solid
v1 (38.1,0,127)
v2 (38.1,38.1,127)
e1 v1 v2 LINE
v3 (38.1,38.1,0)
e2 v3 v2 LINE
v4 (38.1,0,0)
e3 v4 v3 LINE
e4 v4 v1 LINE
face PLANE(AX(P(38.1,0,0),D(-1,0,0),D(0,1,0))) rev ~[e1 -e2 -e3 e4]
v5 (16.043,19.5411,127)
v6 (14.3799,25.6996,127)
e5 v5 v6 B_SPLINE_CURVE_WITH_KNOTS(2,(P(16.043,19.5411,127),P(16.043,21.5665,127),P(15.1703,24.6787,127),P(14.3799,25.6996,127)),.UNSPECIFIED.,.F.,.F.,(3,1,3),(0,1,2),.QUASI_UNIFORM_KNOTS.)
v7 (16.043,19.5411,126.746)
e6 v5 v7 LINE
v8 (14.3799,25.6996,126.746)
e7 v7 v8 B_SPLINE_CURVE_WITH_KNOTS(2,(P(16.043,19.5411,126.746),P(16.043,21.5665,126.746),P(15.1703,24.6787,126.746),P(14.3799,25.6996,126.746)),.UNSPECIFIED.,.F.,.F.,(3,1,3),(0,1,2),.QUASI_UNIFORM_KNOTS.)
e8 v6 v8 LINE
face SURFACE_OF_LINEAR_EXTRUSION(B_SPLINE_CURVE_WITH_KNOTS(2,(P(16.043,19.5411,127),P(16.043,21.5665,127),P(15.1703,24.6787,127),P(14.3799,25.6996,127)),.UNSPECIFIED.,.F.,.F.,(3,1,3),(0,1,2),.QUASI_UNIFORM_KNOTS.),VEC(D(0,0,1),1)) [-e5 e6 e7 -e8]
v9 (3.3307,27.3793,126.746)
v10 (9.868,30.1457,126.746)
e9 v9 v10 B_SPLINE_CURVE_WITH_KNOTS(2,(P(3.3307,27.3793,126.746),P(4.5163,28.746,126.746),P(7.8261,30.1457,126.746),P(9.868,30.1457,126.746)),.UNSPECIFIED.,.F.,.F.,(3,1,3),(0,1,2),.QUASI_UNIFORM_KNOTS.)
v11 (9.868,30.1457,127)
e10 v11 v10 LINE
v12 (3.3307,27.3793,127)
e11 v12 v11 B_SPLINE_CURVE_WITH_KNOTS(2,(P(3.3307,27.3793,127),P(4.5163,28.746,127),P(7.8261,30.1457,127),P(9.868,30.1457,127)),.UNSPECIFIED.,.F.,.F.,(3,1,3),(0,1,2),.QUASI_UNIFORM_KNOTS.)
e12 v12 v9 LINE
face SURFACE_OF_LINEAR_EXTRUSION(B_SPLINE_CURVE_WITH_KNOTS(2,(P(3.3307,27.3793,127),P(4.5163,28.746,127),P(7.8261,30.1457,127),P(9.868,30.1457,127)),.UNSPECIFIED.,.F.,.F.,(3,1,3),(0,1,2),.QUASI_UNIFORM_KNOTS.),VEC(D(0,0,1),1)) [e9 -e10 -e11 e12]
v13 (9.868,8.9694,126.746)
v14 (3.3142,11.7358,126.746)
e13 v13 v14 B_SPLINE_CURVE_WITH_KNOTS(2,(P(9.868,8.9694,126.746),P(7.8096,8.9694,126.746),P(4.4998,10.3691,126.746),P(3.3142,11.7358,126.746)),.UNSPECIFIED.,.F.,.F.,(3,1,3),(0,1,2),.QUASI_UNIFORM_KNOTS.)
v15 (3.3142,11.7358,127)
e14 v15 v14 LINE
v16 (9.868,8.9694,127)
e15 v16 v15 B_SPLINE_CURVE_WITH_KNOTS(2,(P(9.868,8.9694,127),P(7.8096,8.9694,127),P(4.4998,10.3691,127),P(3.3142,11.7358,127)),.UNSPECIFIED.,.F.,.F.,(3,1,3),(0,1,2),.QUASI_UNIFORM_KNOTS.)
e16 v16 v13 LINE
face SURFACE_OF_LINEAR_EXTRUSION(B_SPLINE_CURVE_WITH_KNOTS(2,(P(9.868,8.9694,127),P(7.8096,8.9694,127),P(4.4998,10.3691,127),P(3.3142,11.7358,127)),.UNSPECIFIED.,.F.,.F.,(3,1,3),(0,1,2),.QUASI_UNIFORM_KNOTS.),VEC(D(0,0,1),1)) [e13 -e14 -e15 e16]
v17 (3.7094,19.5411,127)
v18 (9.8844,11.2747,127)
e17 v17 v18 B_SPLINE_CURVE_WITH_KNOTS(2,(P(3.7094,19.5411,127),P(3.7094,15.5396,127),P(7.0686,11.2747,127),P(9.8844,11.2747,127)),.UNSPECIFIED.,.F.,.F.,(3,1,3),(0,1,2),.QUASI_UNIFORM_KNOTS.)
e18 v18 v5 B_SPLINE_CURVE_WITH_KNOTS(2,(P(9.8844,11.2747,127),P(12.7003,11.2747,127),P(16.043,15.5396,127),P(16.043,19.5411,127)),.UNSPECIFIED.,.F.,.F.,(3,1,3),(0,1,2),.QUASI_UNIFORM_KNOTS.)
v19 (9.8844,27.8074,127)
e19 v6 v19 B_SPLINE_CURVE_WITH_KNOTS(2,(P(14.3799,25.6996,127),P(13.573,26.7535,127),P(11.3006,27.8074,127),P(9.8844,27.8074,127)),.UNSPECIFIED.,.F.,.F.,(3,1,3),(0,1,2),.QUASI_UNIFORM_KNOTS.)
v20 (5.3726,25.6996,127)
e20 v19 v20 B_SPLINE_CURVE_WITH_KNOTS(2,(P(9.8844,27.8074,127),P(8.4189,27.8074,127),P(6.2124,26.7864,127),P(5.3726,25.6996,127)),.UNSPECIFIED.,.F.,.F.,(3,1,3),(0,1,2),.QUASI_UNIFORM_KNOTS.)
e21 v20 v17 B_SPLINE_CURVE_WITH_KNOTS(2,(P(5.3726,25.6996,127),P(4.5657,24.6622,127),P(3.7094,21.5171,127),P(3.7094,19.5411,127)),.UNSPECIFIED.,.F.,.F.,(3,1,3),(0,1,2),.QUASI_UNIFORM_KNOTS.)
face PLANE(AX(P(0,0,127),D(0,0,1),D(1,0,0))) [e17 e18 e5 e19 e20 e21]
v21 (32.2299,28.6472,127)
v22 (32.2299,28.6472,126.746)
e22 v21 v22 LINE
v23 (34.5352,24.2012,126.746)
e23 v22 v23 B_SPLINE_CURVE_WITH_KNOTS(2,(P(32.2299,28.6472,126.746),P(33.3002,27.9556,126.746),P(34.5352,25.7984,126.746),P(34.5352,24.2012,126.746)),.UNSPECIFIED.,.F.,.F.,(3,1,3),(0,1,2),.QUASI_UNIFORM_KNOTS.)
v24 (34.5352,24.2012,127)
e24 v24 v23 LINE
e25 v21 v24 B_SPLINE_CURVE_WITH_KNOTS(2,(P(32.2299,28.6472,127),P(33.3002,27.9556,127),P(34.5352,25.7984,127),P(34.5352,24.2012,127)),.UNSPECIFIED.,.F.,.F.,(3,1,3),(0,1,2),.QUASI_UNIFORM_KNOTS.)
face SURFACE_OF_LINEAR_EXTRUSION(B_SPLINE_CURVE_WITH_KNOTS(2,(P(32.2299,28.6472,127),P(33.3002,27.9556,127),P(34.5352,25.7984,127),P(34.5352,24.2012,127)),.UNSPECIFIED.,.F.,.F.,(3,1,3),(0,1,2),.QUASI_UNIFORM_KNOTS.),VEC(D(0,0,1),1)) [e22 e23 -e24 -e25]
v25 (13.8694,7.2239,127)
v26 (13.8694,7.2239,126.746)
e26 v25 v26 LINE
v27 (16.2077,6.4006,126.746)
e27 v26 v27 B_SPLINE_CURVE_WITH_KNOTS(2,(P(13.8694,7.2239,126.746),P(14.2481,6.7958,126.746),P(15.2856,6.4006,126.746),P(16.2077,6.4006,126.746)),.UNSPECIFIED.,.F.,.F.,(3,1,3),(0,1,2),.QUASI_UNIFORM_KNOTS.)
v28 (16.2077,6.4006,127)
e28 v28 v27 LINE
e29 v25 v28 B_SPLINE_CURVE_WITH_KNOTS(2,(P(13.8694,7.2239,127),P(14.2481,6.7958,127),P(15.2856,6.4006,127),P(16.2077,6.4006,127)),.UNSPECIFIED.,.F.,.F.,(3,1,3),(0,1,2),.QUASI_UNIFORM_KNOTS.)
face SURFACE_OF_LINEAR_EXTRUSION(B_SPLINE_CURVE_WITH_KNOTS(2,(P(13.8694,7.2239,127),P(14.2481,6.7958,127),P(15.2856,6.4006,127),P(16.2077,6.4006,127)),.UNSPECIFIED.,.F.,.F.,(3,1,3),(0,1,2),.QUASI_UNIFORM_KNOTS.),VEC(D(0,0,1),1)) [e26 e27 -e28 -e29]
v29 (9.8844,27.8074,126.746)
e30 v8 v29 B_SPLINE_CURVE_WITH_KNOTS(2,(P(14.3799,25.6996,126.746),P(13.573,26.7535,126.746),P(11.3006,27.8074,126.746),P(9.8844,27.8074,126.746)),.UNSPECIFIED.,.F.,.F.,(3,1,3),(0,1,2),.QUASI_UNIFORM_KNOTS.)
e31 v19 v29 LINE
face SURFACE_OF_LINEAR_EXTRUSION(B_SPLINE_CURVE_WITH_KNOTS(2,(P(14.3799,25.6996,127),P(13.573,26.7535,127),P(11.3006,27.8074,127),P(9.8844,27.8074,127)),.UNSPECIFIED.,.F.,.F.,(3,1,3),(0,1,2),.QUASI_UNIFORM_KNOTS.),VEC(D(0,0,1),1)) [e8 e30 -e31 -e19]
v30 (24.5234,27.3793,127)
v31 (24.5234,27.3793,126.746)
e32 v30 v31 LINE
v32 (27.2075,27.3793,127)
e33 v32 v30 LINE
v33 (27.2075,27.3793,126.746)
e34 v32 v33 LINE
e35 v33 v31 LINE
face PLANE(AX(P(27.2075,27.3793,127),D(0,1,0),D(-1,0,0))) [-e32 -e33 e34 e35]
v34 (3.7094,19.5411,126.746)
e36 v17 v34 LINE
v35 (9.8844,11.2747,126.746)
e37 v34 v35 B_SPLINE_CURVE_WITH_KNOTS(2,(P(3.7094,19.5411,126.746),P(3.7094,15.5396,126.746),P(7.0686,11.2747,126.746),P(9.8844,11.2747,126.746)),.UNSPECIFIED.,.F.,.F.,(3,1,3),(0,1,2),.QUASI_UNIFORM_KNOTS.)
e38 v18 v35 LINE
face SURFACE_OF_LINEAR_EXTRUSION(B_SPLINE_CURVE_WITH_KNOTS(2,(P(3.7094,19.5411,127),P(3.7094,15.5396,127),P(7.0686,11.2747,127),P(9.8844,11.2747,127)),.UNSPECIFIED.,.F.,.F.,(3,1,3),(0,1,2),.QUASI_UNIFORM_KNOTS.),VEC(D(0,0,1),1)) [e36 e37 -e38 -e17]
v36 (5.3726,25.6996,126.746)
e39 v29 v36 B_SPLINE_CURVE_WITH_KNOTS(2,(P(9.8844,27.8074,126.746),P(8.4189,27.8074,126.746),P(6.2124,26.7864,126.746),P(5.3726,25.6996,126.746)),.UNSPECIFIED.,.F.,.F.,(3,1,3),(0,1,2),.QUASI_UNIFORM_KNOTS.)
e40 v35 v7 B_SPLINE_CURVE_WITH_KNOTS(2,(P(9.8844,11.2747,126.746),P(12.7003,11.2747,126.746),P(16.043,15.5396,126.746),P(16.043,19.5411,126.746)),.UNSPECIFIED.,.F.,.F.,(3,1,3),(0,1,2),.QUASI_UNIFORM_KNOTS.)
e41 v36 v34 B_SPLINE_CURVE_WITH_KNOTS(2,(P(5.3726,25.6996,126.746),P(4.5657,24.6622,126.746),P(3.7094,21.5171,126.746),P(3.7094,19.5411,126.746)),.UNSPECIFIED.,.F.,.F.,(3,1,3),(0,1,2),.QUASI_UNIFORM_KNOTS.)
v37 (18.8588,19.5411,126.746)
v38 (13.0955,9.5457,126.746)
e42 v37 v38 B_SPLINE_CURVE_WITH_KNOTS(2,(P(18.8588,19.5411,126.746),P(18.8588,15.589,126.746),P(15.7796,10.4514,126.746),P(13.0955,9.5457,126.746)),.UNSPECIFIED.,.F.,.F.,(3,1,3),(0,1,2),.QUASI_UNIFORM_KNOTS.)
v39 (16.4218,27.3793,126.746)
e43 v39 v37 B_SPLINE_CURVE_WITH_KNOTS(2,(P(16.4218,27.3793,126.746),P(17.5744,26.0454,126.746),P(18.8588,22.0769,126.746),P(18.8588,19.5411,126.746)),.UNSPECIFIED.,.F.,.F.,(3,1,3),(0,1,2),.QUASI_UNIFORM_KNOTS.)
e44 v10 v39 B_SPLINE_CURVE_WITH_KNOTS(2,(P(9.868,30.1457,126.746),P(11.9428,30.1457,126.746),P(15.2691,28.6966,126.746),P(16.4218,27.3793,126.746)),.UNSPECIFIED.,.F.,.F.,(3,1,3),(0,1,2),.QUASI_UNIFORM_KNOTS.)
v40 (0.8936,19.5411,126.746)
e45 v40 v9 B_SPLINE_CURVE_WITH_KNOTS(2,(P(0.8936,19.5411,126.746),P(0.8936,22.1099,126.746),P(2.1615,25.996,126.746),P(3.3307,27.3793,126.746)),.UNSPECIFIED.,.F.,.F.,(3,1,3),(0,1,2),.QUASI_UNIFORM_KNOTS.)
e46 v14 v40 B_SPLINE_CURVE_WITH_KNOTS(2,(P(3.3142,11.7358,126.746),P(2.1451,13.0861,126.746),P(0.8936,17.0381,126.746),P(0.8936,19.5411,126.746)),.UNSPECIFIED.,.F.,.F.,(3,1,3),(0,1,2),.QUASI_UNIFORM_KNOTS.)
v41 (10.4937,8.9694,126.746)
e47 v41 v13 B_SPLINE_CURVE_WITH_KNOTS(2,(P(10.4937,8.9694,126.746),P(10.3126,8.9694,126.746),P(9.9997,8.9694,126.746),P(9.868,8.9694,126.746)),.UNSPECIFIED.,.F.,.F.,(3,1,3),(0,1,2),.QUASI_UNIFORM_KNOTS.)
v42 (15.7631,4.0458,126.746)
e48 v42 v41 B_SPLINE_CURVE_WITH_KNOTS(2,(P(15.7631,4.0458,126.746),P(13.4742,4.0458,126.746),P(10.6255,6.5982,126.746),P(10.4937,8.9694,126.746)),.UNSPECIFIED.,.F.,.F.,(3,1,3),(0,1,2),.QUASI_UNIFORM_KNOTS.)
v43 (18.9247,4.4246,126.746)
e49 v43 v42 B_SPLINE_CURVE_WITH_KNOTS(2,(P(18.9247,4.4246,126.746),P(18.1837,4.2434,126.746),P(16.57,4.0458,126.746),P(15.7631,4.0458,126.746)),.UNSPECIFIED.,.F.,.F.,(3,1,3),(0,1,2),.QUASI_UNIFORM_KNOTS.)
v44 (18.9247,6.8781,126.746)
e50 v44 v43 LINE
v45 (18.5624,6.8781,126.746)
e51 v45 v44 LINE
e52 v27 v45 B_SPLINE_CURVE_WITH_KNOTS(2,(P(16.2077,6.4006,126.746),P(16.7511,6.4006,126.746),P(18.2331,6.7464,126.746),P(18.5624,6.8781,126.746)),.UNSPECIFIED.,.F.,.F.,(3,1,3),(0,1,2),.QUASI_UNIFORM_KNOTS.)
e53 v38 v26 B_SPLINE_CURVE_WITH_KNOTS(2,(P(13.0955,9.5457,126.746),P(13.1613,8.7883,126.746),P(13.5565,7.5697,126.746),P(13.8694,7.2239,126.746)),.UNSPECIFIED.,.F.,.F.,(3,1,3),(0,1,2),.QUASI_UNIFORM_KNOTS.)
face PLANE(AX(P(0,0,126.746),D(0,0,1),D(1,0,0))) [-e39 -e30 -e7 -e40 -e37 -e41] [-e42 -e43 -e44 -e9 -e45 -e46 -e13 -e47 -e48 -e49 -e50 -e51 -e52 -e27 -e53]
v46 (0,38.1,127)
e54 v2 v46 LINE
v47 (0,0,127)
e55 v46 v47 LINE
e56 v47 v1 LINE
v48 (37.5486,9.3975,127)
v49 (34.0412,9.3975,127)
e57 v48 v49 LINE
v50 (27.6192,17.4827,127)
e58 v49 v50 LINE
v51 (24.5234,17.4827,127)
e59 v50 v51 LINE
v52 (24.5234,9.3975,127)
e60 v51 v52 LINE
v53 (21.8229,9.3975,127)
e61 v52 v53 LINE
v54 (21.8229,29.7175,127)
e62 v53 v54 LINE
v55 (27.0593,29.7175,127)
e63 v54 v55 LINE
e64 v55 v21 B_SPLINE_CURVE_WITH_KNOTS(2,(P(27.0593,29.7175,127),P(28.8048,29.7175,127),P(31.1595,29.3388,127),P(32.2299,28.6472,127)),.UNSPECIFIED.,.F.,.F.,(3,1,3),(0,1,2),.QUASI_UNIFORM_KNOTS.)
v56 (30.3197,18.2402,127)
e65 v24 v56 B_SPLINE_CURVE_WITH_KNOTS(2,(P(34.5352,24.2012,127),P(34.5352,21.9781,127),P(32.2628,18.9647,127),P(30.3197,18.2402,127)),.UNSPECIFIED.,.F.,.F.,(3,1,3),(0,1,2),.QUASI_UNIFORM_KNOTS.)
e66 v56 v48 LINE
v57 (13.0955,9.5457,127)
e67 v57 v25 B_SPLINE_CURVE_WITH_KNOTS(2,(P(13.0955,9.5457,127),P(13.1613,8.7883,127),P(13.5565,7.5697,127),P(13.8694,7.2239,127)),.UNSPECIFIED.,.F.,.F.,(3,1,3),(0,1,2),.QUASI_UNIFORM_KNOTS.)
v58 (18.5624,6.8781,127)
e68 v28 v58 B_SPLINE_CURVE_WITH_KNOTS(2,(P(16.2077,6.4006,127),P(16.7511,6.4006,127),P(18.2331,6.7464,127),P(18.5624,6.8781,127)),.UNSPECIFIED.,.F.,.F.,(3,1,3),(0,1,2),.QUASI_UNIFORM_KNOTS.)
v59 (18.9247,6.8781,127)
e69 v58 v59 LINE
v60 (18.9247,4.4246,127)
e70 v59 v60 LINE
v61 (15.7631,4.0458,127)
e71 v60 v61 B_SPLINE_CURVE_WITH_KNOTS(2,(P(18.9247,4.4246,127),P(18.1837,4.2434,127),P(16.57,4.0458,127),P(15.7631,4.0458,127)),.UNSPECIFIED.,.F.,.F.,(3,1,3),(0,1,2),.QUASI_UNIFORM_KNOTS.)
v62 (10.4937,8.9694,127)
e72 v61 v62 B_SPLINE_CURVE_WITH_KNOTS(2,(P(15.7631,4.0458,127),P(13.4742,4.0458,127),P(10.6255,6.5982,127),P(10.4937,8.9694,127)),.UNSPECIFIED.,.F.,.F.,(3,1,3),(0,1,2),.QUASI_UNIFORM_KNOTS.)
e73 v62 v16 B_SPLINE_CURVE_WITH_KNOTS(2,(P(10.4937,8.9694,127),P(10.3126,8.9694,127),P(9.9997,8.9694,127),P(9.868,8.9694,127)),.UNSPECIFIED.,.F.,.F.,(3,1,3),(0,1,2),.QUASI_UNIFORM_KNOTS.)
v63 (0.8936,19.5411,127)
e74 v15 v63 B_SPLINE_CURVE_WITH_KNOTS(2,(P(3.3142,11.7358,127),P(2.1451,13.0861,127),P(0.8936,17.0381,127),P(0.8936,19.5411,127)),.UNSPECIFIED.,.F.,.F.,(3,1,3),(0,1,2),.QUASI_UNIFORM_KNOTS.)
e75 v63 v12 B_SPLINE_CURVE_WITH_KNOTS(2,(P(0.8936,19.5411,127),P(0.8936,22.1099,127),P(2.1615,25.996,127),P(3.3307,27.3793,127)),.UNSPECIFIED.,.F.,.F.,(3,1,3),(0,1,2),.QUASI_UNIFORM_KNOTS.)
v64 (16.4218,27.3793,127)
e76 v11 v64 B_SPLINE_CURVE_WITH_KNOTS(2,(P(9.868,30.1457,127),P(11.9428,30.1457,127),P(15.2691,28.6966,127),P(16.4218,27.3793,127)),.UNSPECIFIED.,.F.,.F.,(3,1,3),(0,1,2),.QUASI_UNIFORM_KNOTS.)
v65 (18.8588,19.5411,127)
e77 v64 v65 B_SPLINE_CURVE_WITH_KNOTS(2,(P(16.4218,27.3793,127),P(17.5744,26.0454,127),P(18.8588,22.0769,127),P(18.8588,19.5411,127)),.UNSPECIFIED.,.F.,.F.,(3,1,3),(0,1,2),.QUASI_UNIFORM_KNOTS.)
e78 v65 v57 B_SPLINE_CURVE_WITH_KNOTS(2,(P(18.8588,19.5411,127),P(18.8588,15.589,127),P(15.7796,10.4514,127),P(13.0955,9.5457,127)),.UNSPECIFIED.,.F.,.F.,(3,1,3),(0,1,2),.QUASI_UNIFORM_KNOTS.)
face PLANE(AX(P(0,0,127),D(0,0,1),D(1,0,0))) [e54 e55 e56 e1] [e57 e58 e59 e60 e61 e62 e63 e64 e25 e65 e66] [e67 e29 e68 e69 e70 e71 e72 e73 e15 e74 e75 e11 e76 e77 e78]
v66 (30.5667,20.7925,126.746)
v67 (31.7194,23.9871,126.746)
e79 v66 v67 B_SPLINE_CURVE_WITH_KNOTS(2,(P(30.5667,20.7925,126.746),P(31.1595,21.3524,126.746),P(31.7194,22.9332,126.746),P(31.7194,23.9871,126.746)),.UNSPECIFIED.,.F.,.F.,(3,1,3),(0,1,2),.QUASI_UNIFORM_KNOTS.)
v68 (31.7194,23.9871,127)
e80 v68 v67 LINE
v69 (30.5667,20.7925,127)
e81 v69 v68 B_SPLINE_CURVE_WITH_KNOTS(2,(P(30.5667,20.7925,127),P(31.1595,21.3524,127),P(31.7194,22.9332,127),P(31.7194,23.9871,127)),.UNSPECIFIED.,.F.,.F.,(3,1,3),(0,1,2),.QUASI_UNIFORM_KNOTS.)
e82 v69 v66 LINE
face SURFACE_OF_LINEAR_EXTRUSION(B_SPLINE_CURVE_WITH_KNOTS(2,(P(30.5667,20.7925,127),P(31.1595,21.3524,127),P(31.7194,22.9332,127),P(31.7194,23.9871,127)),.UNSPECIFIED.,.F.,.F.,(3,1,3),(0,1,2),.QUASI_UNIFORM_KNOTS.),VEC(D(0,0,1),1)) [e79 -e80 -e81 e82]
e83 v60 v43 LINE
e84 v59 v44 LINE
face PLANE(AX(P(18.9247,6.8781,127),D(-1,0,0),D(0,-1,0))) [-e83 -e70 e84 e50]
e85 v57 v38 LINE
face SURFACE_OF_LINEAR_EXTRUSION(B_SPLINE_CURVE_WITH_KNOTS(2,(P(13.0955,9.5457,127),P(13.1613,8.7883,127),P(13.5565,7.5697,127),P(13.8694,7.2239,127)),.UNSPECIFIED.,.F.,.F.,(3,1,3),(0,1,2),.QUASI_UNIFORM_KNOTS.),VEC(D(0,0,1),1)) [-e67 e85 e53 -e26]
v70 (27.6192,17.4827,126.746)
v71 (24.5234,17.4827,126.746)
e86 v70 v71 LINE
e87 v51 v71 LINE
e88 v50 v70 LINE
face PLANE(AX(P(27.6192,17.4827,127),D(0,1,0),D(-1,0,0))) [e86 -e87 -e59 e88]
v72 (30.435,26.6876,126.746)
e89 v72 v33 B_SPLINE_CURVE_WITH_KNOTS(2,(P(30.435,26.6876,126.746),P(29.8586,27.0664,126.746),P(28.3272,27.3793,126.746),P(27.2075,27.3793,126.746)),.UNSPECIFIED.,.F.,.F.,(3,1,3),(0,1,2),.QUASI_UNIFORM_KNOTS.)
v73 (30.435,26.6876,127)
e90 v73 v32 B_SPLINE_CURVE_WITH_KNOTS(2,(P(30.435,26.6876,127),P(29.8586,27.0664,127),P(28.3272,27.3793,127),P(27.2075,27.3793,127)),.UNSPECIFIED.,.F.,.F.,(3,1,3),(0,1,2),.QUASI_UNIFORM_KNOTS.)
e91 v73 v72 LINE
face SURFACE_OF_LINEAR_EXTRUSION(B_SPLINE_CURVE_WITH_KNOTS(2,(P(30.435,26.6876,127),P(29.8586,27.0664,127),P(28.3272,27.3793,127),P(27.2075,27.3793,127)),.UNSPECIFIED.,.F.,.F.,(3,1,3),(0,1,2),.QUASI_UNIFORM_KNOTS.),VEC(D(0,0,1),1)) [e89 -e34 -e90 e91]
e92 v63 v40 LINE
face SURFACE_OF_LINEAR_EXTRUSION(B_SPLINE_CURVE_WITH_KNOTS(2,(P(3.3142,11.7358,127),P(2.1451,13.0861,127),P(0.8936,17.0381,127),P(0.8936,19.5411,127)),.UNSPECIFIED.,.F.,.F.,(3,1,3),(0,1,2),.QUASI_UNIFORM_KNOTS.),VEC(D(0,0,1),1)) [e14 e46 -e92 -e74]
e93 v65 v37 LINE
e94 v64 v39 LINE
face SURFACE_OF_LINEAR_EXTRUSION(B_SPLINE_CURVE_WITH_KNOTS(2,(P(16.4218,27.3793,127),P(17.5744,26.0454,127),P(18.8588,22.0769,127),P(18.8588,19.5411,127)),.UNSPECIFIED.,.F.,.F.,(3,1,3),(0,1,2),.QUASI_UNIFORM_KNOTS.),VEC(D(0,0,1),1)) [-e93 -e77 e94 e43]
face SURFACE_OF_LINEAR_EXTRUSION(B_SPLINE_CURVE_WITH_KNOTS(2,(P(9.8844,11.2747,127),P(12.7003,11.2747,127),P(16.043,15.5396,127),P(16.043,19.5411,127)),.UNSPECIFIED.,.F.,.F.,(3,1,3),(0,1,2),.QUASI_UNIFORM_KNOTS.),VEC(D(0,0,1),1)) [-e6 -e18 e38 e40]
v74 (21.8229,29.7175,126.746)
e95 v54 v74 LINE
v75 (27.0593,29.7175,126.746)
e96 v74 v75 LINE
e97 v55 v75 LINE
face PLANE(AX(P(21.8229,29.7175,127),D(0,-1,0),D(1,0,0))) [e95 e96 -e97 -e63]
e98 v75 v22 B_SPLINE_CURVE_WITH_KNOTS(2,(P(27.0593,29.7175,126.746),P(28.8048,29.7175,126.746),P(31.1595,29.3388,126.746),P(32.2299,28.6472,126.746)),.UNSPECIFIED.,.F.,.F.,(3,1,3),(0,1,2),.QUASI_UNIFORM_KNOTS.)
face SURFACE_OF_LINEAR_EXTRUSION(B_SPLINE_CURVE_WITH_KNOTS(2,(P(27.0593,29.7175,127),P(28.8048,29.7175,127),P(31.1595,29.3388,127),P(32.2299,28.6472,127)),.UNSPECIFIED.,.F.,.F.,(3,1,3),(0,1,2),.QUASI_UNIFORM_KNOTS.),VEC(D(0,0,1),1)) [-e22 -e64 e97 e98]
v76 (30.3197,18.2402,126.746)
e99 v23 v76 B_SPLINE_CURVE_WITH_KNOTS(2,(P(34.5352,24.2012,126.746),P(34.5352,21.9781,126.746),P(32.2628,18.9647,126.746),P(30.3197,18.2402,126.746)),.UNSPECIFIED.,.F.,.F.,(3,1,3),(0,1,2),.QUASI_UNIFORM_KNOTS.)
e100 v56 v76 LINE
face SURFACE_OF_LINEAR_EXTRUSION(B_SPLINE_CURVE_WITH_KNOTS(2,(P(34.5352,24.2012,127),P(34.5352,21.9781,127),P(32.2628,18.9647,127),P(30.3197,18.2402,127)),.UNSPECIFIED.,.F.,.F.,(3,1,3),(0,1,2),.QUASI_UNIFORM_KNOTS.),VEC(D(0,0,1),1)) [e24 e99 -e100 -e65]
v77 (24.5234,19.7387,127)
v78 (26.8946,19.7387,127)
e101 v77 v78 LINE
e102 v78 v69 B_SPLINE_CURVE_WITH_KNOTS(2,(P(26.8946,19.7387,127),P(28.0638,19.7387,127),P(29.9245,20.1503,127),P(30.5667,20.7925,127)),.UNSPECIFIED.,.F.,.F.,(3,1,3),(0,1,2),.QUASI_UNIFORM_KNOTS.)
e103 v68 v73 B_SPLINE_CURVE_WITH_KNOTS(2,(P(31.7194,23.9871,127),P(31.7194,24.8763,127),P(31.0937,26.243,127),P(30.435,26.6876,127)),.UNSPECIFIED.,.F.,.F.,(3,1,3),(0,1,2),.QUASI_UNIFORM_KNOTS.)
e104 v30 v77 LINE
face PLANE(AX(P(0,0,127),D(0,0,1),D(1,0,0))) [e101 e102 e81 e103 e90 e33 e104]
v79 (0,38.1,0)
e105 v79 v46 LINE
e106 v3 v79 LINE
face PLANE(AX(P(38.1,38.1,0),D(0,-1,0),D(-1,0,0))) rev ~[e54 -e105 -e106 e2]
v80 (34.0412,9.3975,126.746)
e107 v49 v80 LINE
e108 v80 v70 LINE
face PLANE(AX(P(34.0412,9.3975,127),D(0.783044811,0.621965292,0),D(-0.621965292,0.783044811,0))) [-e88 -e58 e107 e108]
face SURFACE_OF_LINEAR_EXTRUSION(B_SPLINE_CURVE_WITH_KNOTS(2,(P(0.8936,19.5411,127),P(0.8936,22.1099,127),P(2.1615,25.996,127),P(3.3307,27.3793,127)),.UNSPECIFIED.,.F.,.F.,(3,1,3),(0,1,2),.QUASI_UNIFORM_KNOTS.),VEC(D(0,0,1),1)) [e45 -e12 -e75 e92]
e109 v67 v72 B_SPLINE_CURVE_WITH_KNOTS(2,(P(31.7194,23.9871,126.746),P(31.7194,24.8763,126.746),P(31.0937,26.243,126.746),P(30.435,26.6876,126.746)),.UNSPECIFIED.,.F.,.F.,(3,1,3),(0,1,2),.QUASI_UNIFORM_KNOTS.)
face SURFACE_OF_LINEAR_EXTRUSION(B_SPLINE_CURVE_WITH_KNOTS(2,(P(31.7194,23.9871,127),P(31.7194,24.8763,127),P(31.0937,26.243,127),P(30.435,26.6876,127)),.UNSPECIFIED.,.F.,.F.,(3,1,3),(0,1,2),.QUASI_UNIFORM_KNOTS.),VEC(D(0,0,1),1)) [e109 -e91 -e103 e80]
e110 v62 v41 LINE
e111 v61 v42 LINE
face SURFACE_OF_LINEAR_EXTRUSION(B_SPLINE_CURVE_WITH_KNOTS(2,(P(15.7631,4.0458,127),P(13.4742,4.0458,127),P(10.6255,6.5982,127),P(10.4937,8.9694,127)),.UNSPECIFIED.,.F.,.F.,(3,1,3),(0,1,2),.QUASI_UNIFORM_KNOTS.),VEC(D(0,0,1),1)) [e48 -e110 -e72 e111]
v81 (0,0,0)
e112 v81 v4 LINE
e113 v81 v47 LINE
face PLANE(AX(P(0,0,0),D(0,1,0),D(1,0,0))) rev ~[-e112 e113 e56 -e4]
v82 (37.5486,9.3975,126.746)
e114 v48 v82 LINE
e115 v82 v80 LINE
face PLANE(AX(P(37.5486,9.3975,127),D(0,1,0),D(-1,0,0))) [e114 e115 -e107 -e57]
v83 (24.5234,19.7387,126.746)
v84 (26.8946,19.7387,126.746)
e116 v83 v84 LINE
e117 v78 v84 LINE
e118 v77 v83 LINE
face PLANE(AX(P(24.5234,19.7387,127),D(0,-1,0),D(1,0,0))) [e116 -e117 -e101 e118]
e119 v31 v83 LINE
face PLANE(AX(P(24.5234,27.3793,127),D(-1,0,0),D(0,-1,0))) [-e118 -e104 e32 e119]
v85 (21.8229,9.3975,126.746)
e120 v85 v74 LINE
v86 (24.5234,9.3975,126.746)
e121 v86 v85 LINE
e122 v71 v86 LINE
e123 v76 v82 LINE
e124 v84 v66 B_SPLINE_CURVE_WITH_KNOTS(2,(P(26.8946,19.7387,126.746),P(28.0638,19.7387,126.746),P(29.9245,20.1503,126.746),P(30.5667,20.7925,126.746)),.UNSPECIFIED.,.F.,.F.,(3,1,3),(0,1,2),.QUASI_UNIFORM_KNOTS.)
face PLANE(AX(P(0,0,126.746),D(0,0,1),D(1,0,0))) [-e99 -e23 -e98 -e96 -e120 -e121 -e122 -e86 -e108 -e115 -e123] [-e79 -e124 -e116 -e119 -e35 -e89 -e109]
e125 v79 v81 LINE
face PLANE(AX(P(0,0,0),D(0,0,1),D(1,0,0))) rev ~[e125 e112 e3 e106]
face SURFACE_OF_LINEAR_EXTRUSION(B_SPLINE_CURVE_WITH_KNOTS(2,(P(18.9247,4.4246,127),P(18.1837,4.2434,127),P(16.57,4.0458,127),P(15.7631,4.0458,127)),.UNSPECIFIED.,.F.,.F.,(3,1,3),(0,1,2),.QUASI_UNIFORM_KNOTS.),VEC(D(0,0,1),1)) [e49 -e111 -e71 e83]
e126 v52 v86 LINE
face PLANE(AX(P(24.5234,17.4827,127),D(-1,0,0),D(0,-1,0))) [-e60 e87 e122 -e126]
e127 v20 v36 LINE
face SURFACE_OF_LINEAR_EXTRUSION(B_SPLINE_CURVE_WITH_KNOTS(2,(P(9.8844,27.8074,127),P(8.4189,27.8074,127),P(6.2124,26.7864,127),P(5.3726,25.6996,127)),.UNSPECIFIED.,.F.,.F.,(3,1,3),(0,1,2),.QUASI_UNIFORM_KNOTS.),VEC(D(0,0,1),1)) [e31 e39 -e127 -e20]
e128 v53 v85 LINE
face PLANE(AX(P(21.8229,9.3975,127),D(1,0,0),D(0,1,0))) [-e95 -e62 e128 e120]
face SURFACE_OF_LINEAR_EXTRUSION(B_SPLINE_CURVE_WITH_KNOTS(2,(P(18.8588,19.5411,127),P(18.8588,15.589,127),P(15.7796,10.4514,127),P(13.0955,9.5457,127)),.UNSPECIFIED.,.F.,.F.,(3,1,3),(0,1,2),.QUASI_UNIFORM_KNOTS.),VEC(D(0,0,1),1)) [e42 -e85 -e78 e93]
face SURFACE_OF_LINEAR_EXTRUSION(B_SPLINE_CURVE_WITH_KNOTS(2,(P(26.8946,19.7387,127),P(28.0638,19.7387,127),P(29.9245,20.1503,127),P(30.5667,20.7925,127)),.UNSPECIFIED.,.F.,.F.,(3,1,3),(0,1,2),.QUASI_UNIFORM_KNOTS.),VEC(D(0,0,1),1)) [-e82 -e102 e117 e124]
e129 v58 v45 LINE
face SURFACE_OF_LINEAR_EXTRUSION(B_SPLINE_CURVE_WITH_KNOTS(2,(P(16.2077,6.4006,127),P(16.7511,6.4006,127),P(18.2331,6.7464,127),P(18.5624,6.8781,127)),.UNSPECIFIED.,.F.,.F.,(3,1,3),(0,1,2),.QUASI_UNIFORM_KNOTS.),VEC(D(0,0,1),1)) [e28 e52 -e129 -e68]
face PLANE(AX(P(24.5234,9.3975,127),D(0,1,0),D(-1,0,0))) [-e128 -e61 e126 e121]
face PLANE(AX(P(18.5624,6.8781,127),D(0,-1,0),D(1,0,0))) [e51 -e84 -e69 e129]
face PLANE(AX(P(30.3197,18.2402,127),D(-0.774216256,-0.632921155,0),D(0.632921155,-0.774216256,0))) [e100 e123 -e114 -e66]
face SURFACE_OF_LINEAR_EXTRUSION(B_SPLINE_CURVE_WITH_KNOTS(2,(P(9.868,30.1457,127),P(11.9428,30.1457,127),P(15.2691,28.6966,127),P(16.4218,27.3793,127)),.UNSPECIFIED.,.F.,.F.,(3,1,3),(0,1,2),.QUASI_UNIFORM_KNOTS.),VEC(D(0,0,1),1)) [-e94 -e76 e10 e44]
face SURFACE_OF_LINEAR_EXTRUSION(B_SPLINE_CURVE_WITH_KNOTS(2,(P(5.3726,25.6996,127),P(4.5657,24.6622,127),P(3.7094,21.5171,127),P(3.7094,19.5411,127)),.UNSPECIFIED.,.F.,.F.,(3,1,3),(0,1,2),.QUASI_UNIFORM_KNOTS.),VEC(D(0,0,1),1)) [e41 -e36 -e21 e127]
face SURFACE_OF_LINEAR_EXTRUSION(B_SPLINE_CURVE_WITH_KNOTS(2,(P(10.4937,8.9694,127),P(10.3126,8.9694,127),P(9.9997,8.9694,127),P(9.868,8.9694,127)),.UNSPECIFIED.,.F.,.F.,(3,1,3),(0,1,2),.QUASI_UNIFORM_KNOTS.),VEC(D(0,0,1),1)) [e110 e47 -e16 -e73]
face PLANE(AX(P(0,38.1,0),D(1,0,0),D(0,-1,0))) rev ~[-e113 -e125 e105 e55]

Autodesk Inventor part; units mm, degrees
ref_plane "YZ Plane" through (0, 0, 0) normal (1, 0, 0) x (0, 1, 0)
ref_plane "XZ Plane" through (0, 0, 0) normal (0, 1, 0) x (-1, 0, 0)
ref_plane "XY Plane" through (0, 0, 0) normal (0, 0, 1) x (1, 0, 0)
sketch "Sketch1" plane through (0, 0, 0) normal (0, 0, 1) x (1, 0, 0)
  line L0 (0, 0) -> (38.1, 0)
  line L1 (38.1, 0) -> (38.1, 38.1)
  line L2 (38.1, 38.1) -> (0, 38.1)
  line L3 (0, 38.1) -> (0, 0)
  dimension "d0" = 38.1
  dimension "d1" = 38.1
extrude "Extrusion1" add sketch "Sketch1" along normal blind 127
sketch "Sketch2" plane through (0, 0, 127) normal (0, 0, 1) x (1, 0, 0)
  line L0 (-0.0121, 30.1457) -> (46.3831, 30.1457) construction
  line L1 (46.3831, 30.1457) -> (46.3831, -2.4791) construction
  line L2 (46.3831, -2.4791) -> (-0.0121, -2.4791) construction
  line L3 (-0.0121, -2.4791) -> (-0.0121, 30.1457) construction
  spline S0 degree 2 poles (18.9247, 4.4246) (18.1837, 4.2434) (16.57, 4.0458) (15.7631, 4.0458) knots 0 0 0 1 2 2 2
  spline S1 degree 2 poles (15.7631, 4.0458) (13.4742, 4.0458) (10.6255, 6.5982) (10.4937, 8.9694) knots 0 0 0 1 2 2 2
  spline S2 degree 2 poles (10.4937, 8.9694) (10.3126, 8.9694) (9.9997, 8.9694) (9.868, 8.9694) knots 0 0 0 1 2 2 2
  spline S3 degree 2 poles (9.868, 8.9694) (7.8096, 8.9694) (4.4998, 10.3691) (3.3142, 11.7358) knots 0 0 0 1 2 2 2
  spline S4 degree 2 poles (3.3142, 11.7358) (2.1451, 13.0861) (0.8936, 17.0381) (0.8936, 19.5411) knots 0 0 0 1 2 2 2
  spline S5 degree 2 poles (0.8936, 19.5411) (0.8936, 22.1099) (2.1615, 25.996) (3.3307, 27.3793) knots 0 0 0 1 2 2 2
  spline S6 degree 2 poles (3.3307, 27.3793) (4.5163, 28.746) (7.8261, 30.1457) (9.868, 30.1457) knots 0 0 0 1 2 2 2
  spline S7 degree 2 poles (9.868, 30.1457) (11.9428, 30.1457) (15.2691, 28.6966) (16.4218, 27.3793) knots 0 0 0 1 2 2 2
  spline S8 degree 2 poles (16.4218, 27.3793) (17.5744, 26.0454) (18.8588, 22.0769) (18.8588, 19.5411) knots 0 0 0 1 2 2 2
  spline S9 degree 2 poles (18.8588, 19.5411) (18.8588, 15.589) (15.7796, 10.4514) (13.0955, 9.5457) knots 0 0 0 1 2 2 2
  spline S10 degree 2 poles (13.0955, 9.5457) (13.1613, 8.7883) (13.5565, 7.5697) (13.8694, 7.2239) knots 0 0 0 1 2 2 2
  spline S11 degree 2 poles (13.8694, 7.2239) (14.2481, 6.7958) (15.2856, 6.4006) (16.2077, 6.4006) knots 0 0 0 1 2 2 2
  spline S12 degree 2 poles (16.2077, 6.4006) (16.7511, 6.4006) (18.2331, 6.7464) (18.5624, 6.8781) knots 0 0 0 1 2 2 2
  line L4 (18.5624, 6.8781) -> (18.9247, 6.8781)
  line L5 (18.9247, 6.8781) -> (18.9247, 4.4246)
  spline S13 degree 2 poles (16.043, 19.5411) (16.043, 21.5665) (15.1703, 24.6787) (14.3799, 25.6996) knots 0 0 0 1 2 2 2
  spline S14 degree 2 poles (14.3799, 25.6996) (13.573, 26.7535) (11.3006, 27.8074) (9.8844, 27.8074) knots 0 0 0 1 2 2 2
  spline S15 degree 2 poles (9.8844, 27.8074) (8.4189, 27.8074) (6.2124, 26.7864) (5.3726, 25.6996) knots 0 0 0 1 2 2 2
  spline S16 degree 2 poles (5.3726, 25.6996) (4.5657, 24.6622) (3.7094, 21.5171) (3.7094, 19.5411) knots 0 0 0 1 2 2 2
  spline S17 degree 2 poles (3.7094, 19.5411) (3.7094, 15.5396) (7.0686, 11.2747) (9.8844, 11.2747) knots 0 0 0 1 2 2 2
  spline S18 degree 2 poles (9.8844, 11.2747) (12.7003, 11.2747) (16.043, 15.5396) (16.043, 19.5411) knots 0 0 0 1 2 2 2
  line L6 (37.5486, 9.3975) -> (34.0412, 9.3975)
  line L7 (34.0412, 9.3975) -> (27.6192, 17.4827)
  line L8 (27.6192, 17.4827) -> (24.5234, 17.4827)
  line L9 (24.5234, 17.4827) -> (24.5234, 9.3975)
  line L10 (24.5234, 9.3975) -> (21.8229, 9.3975)
  line L11 (21.8229, 9.3975) -> (21.8229, 29.7175)
  line L12 (21.8229, 29.7175) -> (27.0593, 29.7175)
  spline S19 degree 2 poles (27.0593, 29.7175) (28.8048, 29.7175) (31.1595, 29.3388) (32.2299, 28.6472) knots 0 0 0 1 2 2 2
  spline S20 degree 2 poles (32.2299, 28.6472) (33.3002, 27.9556) (34.5352, 25.7984) (34.5352, 24.2012) knots 0 0 0 1 2 2 2
  spline S21 degree 2 poles (34.5352, 24.2012) (34.5352, 21.9781) (32.2628, 18.9647) (30.3197, 18.2402) knots 0 0 0 1 2 2 2
  line L13 (30.3197, 18.2402) -> (37.5486, 9.3975)
  spline S22 degree 2 poles (31.7194, 23.9871) (31.7194, 24.8763) (31.0937, 26.243) (30.435, 26.6876) knots 0 0 0 1 2 2 2
  spline S23 degree 2 poles (30.435, 26.6876) (29.8586, 27.0664) (28.3272, 27.3793) (27.2075, 27.3793) knots 0 0 0 1 2 2 2
  line L14 (27.2075, 27.3793) -> (24.5234, 27.3793)
  line L15 (24.5234, 27.3793) -> (24.5234, 19.7387)
  line L16 (24.5234, 19.7387) -> (26.8946, 19.7387)
  spline S24 degree 2 poles (26.8946, 19.7387) (28.0638, 19.7387) (29.9245, 20.1503) (30.5667, 20.7925) knots 0 0 0 1 2 2 2
  spline S25 degree 2 poles (30.5667, 20.7925) (31.1595, 21.3524) (31.7194, 22.9332) (31.7194, 23.9871) knots 0 0 0 1 2 2 2
  point P0 (0, 0)
extrude "Extrusion3" cut sketch "Sketch2" against normal blind 0.254
properties part number "Container 2 2 5 colored color 3"
